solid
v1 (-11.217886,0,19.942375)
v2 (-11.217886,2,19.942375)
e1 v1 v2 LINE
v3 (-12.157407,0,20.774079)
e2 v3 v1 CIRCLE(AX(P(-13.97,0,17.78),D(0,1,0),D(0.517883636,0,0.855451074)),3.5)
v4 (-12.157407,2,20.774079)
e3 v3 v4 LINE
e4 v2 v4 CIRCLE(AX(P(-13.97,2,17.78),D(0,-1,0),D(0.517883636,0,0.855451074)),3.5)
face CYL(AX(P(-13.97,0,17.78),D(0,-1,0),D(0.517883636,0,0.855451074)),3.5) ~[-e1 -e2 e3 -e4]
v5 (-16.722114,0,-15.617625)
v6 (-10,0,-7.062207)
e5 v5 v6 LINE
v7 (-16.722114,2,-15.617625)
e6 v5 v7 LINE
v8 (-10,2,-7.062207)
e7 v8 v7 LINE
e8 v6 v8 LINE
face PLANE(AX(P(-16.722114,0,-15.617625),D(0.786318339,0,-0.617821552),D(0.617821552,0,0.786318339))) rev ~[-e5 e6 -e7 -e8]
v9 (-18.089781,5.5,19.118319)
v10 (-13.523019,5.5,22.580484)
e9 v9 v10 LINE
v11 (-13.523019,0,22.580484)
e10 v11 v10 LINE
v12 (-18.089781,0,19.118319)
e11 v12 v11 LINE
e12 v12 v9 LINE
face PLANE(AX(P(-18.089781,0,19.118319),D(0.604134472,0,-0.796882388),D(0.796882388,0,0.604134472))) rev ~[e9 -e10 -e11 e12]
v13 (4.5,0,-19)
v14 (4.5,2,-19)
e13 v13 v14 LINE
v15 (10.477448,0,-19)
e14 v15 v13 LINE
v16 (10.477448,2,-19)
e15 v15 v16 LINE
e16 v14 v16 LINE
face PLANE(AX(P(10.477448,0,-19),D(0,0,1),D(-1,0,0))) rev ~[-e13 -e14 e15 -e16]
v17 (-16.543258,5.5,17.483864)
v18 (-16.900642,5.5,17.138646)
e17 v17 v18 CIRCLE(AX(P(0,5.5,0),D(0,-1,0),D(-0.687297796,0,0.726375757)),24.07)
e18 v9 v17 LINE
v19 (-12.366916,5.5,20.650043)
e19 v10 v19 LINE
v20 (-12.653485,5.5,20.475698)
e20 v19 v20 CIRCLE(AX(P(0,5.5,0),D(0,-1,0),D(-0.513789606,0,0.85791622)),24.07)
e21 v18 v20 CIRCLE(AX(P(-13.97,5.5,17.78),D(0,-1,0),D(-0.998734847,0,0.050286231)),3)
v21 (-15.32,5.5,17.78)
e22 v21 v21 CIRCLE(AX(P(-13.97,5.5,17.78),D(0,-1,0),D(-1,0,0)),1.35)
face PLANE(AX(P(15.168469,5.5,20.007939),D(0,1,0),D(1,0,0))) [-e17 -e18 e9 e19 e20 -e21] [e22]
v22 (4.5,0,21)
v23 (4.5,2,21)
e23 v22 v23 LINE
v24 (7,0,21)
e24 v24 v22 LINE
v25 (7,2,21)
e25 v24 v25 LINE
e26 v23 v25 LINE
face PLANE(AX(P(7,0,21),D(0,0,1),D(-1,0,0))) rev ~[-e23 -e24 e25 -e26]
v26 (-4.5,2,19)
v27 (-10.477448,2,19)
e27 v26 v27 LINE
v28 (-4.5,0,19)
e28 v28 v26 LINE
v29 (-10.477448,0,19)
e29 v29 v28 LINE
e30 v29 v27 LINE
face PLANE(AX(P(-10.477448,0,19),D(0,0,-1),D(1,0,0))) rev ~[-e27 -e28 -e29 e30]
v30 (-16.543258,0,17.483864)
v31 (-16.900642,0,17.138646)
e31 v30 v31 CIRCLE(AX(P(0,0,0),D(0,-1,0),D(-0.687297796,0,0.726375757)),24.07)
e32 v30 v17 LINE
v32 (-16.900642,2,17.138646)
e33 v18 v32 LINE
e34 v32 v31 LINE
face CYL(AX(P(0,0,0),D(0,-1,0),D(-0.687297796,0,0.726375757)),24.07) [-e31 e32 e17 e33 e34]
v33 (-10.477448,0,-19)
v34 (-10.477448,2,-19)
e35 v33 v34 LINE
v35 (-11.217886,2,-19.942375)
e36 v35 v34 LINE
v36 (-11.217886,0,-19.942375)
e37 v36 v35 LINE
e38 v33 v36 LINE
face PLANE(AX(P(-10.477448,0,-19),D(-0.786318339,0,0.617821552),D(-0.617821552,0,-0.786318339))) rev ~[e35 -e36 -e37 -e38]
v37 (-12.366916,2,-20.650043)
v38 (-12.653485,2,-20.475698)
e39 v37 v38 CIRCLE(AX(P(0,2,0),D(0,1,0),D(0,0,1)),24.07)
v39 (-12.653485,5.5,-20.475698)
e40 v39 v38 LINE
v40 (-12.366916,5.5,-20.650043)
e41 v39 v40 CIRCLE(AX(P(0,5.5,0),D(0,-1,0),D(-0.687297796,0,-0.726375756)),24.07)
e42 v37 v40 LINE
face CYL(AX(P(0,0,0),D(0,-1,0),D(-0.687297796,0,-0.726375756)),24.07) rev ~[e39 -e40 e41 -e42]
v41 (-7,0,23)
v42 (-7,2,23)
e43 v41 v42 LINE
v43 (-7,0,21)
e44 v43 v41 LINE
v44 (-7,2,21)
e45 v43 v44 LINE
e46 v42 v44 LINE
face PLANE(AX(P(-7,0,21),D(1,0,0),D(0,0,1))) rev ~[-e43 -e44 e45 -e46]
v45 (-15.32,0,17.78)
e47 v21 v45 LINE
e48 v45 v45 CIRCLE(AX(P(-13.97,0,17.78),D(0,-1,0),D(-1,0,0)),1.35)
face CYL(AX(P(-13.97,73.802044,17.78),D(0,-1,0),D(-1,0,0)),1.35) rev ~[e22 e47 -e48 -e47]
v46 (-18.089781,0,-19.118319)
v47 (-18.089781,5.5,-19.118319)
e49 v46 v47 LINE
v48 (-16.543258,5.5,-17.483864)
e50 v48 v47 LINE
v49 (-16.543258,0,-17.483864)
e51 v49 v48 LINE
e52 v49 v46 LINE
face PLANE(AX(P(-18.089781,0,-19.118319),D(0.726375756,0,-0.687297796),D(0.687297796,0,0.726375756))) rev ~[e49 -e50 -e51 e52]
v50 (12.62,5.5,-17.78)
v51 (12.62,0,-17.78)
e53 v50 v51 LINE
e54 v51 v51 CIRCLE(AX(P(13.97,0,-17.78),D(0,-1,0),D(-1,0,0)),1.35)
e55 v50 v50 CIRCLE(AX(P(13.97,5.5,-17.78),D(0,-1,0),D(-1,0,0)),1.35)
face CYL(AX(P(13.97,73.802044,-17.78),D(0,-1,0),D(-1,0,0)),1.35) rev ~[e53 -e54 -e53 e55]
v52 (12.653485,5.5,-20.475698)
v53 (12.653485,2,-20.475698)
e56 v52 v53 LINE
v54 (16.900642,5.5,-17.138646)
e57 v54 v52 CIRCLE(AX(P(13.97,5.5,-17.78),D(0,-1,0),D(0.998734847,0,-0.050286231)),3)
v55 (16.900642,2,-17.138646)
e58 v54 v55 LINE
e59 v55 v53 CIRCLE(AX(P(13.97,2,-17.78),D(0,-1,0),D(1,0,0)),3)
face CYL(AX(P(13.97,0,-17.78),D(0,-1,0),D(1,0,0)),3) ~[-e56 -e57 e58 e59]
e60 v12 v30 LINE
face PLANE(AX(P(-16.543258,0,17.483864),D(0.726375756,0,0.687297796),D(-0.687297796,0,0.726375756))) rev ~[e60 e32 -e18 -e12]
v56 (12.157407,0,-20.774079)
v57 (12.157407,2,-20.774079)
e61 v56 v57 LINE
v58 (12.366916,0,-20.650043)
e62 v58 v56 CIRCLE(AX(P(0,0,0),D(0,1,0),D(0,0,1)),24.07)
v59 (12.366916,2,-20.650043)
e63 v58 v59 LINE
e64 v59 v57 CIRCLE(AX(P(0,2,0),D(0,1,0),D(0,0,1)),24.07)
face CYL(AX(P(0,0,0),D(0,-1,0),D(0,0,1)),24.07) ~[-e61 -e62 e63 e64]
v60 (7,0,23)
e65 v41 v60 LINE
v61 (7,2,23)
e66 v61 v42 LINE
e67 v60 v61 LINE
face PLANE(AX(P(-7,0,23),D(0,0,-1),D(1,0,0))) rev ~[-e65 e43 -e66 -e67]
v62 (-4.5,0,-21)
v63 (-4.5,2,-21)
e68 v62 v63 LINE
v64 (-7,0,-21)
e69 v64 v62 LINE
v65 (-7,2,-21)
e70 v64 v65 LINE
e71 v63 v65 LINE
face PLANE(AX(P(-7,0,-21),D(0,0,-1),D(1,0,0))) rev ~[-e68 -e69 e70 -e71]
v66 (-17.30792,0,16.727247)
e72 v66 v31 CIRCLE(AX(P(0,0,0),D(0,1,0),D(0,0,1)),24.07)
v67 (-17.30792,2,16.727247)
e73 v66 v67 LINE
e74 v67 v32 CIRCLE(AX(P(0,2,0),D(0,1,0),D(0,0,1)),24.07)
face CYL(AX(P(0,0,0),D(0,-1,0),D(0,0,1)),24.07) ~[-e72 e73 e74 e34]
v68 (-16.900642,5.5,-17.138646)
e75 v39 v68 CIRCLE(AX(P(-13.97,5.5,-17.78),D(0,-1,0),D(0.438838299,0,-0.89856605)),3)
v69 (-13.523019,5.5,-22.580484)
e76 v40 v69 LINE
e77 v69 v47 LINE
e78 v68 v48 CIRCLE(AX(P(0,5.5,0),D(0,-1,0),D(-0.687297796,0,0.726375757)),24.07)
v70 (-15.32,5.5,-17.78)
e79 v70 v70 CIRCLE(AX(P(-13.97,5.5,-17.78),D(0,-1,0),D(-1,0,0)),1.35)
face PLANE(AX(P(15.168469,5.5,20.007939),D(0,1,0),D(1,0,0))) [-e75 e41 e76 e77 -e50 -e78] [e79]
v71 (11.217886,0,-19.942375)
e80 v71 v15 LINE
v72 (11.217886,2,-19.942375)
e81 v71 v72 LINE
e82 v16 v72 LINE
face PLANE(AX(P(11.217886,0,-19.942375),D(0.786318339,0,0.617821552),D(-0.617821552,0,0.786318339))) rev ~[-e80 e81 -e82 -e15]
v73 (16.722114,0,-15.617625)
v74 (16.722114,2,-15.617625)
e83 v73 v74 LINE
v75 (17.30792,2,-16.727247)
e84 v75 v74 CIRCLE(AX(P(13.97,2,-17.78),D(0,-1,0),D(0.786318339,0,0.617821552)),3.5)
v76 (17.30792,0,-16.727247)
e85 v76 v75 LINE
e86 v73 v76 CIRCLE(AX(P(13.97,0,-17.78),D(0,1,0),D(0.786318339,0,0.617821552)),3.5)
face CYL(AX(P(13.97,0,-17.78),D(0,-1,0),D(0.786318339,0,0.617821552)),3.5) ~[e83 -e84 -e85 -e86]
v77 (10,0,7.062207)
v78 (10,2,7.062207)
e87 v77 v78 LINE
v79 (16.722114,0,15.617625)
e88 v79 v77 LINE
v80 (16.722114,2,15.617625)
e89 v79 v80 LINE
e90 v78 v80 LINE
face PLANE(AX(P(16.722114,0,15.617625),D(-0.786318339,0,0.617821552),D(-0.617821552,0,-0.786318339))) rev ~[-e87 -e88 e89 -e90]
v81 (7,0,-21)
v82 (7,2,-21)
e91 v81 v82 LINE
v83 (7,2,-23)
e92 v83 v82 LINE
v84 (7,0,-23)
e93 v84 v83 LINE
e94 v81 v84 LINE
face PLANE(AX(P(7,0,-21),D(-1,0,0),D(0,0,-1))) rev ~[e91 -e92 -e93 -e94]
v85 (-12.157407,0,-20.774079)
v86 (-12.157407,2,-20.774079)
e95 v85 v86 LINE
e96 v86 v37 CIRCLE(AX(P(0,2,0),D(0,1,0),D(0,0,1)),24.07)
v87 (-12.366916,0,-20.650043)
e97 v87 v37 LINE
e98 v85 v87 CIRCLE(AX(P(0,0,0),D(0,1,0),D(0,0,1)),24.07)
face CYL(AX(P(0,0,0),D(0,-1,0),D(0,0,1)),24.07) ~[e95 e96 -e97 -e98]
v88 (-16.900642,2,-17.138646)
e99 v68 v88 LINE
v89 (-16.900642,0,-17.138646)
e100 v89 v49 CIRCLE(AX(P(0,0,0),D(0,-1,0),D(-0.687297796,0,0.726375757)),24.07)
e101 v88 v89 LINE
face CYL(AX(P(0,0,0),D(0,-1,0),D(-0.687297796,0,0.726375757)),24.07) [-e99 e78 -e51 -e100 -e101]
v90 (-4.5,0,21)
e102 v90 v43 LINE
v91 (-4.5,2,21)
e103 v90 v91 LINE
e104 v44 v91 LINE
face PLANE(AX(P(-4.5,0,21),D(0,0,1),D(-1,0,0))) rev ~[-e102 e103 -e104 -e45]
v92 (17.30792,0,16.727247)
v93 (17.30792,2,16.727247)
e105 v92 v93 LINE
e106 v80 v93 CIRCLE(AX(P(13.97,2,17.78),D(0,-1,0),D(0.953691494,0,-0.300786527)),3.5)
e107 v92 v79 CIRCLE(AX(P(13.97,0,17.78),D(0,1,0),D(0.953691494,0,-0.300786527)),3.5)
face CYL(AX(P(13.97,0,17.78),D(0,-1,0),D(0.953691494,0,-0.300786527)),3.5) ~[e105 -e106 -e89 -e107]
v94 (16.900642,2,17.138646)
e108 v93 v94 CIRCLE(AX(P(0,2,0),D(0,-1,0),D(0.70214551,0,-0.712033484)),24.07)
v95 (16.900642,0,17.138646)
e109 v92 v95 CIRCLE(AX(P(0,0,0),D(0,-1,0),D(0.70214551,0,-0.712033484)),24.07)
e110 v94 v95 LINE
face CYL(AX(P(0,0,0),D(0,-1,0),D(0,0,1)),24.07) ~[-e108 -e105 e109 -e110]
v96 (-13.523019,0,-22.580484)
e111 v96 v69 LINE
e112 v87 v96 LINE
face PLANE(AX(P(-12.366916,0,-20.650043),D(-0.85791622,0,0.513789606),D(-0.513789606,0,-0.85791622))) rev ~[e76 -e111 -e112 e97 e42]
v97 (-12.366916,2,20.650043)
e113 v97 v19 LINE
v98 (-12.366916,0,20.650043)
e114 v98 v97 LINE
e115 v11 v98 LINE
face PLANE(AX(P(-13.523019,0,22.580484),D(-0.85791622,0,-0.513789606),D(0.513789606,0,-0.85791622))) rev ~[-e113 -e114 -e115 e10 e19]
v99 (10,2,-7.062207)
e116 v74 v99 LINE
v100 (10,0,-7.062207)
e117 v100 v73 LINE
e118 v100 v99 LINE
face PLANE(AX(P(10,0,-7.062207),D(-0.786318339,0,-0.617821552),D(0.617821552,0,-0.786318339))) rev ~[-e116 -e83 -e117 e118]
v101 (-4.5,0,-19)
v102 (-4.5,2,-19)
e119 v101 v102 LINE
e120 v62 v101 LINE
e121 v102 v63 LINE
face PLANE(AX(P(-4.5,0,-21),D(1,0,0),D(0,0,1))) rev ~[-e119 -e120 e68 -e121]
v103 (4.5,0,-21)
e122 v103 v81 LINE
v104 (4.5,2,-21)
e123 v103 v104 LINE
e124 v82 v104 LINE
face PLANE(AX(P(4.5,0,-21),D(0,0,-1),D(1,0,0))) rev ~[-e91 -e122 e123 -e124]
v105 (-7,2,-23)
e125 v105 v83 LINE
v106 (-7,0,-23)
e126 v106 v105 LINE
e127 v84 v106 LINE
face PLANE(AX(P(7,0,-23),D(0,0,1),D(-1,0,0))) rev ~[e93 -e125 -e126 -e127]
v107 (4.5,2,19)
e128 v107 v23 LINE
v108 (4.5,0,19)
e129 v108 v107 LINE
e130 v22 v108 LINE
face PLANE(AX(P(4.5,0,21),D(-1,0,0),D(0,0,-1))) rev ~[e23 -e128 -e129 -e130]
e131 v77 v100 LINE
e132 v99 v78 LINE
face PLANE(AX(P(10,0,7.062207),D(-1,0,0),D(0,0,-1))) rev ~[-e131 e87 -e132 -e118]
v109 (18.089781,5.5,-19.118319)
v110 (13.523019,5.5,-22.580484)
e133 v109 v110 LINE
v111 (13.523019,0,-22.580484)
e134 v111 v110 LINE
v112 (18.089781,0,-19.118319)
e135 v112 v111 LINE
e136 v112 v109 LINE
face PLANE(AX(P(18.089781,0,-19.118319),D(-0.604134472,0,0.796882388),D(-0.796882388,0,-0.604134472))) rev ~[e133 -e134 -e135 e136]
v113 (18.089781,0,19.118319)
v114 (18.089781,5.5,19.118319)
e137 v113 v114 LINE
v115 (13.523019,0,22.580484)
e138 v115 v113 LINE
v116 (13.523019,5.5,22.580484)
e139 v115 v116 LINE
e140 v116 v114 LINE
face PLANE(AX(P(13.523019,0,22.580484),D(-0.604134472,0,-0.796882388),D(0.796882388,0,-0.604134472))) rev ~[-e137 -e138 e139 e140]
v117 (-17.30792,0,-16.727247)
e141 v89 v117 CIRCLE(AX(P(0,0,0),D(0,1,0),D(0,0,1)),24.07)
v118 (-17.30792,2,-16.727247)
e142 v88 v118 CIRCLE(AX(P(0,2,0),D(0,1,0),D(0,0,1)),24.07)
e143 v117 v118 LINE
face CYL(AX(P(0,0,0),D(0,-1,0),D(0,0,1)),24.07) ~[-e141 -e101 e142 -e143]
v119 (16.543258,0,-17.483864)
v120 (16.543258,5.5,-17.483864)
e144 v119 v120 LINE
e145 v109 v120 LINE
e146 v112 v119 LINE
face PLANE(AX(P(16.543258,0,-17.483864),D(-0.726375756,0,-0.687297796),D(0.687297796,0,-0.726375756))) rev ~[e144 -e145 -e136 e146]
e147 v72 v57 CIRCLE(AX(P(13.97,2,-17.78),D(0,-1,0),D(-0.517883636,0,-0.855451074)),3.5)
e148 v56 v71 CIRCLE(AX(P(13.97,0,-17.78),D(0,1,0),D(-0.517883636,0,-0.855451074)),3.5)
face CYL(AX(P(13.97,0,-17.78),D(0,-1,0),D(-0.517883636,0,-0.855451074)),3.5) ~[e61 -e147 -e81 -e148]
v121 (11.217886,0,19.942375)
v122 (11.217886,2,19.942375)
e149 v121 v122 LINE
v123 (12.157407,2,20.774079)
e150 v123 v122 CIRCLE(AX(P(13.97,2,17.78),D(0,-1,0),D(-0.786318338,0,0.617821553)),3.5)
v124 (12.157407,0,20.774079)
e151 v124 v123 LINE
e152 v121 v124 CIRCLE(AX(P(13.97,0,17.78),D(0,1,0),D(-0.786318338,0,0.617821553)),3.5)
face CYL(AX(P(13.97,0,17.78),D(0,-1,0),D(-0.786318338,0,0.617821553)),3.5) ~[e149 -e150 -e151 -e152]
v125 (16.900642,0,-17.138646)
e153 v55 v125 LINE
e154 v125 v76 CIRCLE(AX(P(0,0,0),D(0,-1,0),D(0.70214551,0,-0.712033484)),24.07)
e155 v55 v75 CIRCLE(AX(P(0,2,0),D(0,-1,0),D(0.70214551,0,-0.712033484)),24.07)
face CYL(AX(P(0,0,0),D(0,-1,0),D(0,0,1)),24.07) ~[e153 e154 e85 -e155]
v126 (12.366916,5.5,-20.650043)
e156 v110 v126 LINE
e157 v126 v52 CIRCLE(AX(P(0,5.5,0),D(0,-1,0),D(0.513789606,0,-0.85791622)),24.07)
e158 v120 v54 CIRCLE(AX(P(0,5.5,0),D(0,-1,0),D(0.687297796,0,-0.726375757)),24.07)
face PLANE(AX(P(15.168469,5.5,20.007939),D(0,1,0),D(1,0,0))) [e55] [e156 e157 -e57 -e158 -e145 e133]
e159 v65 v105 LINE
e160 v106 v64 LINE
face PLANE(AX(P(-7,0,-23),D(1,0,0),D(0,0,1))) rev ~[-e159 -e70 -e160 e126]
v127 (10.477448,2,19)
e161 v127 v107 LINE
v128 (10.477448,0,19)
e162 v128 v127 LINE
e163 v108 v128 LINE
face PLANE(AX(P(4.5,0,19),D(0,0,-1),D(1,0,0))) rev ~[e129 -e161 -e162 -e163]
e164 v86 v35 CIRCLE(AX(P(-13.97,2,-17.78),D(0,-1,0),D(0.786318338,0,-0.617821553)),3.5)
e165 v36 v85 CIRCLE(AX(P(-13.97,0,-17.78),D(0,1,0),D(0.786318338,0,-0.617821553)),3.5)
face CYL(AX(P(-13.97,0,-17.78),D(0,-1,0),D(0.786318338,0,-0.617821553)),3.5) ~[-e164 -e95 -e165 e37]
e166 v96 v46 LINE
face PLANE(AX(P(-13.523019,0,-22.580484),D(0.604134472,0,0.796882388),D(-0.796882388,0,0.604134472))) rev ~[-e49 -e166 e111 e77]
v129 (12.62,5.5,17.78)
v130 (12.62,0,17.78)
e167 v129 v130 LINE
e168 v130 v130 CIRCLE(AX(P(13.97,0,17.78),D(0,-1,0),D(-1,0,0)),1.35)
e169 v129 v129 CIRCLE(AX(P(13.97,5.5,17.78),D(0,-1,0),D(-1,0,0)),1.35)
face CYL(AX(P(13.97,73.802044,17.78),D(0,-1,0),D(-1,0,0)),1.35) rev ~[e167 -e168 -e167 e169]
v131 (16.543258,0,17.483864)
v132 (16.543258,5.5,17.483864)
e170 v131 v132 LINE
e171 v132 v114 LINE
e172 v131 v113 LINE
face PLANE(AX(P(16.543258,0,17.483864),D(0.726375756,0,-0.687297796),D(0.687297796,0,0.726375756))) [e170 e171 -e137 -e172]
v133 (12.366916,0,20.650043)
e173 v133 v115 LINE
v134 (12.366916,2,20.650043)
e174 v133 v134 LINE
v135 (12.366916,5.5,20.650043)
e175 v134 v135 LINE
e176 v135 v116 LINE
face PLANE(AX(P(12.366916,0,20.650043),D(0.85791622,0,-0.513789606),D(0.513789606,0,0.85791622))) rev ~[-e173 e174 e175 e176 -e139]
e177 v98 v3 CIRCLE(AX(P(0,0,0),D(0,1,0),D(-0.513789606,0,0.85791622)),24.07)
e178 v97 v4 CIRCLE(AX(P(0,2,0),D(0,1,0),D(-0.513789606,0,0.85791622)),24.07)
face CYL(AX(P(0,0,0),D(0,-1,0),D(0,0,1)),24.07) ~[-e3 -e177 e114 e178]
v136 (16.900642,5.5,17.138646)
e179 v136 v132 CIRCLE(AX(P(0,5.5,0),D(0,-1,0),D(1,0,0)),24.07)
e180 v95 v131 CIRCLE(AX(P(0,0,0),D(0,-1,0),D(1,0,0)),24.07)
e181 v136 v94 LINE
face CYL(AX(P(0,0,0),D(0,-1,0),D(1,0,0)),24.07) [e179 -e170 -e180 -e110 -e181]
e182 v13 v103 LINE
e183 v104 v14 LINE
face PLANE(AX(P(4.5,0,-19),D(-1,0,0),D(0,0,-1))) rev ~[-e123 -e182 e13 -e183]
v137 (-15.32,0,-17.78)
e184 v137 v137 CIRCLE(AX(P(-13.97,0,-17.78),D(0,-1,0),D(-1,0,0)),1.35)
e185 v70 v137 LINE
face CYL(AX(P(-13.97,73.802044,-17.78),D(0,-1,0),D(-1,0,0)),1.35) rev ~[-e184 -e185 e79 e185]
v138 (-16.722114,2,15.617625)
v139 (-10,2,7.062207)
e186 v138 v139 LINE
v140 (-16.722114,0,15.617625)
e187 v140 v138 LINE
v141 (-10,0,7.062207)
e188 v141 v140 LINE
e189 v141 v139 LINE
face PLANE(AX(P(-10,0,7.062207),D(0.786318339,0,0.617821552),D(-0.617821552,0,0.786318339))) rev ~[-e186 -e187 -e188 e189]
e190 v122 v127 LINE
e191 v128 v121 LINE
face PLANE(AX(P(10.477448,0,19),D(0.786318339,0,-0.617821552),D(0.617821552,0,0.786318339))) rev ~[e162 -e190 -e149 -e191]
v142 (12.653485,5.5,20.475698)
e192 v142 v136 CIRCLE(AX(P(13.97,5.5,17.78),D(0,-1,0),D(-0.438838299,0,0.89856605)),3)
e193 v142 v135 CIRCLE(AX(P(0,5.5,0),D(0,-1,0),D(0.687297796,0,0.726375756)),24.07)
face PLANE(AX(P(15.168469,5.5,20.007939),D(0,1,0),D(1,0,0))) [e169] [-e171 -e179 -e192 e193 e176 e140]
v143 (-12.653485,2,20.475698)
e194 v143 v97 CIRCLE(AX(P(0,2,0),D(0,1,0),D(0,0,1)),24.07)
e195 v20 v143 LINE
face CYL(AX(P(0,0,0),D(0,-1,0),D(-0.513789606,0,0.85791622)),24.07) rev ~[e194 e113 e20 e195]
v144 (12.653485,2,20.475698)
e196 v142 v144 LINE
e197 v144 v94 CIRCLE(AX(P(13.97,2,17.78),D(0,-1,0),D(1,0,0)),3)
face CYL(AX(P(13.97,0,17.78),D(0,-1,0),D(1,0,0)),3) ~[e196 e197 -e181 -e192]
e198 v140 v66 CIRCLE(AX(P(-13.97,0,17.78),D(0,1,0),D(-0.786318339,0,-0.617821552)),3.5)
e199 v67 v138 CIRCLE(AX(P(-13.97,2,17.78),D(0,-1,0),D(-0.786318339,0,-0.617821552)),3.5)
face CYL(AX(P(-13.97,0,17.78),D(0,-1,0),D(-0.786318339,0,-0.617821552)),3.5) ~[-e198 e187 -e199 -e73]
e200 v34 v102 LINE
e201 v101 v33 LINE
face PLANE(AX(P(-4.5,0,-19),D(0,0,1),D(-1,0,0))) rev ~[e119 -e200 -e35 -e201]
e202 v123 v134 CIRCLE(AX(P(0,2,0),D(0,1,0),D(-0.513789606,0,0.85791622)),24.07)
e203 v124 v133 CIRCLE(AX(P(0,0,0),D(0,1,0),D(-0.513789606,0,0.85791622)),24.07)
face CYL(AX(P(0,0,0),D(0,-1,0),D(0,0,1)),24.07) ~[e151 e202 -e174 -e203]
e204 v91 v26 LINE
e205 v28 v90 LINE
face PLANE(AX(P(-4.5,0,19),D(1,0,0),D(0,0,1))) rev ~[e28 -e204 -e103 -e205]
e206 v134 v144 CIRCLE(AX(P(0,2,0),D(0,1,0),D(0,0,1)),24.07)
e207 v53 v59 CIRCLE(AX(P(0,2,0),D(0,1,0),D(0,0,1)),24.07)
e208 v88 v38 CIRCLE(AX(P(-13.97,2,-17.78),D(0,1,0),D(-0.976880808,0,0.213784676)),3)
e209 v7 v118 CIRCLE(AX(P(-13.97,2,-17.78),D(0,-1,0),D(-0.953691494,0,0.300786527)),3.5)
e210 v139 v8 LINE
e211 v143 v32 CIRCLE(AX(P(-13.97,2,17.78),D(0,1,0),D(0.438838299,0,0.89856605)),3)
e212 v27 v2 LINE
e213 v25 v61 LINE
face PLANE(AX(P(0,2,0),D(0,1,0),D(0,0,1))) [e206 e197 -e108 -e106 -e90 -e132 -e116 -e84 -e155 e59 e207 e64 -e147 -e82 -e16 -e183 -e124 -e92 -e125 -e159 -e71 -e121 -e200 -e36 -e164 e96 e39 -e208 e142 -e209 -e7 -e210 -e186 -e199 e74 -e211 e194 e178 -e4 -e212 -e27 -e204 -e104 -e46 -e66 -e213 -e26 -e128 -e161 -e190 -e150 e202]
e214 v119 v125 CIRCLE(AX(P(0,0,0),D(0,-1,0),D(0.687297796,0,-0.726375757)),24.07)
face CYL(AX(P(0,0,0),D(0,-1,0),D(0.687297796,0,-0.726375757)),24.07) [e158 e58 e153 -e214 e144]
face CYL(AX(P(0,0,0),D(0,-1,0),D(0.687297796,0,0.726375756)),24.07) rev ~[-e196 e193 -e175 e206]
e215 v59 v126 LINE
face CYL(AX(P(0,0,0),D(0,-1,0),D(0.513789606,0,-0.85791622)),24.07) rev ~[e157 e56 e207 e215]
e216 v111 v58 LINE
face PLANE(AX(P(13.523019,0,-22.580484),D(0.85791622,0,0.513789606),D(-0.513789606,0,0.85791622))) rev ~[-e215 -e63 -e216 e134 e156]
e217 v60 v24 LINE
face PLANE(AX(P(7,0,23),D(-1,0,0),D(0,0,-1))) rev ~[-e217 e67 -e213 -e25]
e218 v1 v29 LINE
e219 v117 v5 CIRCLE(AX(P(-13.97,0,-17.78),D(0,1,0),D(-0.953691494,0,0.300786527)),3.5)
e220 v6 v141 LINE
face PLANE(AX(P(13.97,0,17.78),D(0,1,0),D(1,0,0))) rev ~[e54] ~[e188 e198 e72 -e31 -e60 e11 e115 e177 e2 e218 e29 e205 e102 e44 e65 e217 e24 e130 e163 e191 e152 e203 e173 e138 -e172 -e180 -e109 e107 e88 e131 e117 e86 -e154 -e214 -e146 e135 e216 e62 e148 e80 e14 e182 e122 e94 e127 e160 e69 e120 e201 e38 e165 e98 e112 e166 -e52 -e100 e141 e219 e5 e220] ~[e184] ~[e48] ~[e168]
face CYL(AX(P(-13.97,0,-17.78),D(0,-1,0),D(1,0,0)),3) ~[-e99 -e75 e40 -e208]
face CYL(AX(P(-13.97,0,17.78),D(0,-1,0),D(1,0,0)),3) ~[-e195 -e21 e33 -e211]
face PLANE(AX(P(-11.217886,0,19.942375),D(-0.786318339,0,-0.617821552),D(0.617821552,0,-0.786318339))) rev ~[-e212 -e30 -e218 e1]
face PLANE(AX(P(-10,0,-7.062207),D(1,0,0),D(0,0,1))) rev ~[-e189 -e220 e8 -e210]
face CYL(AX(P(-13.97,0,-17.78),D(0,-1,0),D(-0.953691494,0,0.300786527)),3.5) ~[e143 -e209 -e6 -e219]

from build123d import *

# Parameters (mm, degrees)
SKETCH1_R               = 24.07
BOSS_EXTRUDE1_DEPTH     = 2
BOSS_EXTRUDE2_DEPTH     = 5.5
BOSS_EXTRUDE5_REACH     = 36.482
SKETCH2_R               = 3
SKETCH1_5_R             = 34.31362745
CUT_EXTRUDE3_DEPTH      = 35.48158639
CUT_EXTRUDE3_DEPTH_BACK = 35.48158639
M2_5_CLEARANCE_HOLE1_D  = 2.7
CUT_EXTRUDE4_DEPTH      = 35.48158639


with BuildPart() as part:
    # Sketch1 → Boss-Extrude1 (new body)
    with BuildSketch(Plane(origin=(0, 0, 0), x_dir=(1, 0, 0), z_dir=(0, 1, 0))):
        with Locations(Location((0, 0, 0), (0, 0, 270))):
            Circle(SKETCH1_R)
    extrude(amount=BOSS_EXTRUDE1_DEPTH)

    # Sketch1<3> → Boss-Extrude2 (add)
    with BuildSketch(Plane(origin=(0, 0, 0), x_dir=(1, 0, 0), z_dir=(0, 1, 0))):
        with BuildLine():
            ThreePointArc((12.366915807, 20.650043424), (14.541516735, 19.180959075), (16.543257949, 17.483864459))
            Line((16.543257949, 17.483864459), (18.089781085, 19.118318867))
            Line((18.089781085, 19.118318867), (13.523019488, 22.580483607))
            Line((13.523019488, 22.580483607), (12.366915807, 20.650043424))
        make_face()
        with BuildLine():
            ThreePointArc((16.543257949, -17.483864459), (14.541516735, -19.180959075), (12.366915807, -20.650043424))
            Line((12.366915807, -20.650043424), (13.523019488, -22.580483607))
            Line((13.523019488, -22.580483607), (18.089781085, -19.118318867))
            Line((18.089781085, -19.118318867), (16.543257949, -17.483864459))
        make_face()
        with BuildLine():
            ThreePointArc((-16.543257949, 17.483864459), (-14.541516735, 19.180959075), (-12.366915807, 20.650043424))
            Line((-12.366915807, 20.650043424), (-13.523019488, 22.580483607))
            Line((-13.523019488, 22.580483607), (-18.089781085, 19.118318867))
            Line((-18.089781085, 19.118318867), (-16.543257949, 17.483864459))
        make_face()
        with BuildLine():
            ThreePointArc((-12.366915807, -20.650043424), (-14.541516735, -19.180959075), (-16.543257949, -17.483864459))
            Line((-16.543257949, -17.483864459), (-18.089781085, -19.118318867))
            Line((-18.089781085, -19.118318867), (-13.523019488, -22.580483607))
            Line((-13.523019488, -22.580483607), (-12.366915807, -20.650043424))
        make_face()
    extrude(amount=BOSS_EXTRUDE2_DEPTH)

    # Boss-Extrude5: up to this face of the body (flat: up to its plane)
    boss_extrude5_end = Plane(part.part.faces().sort_by_distance((15.168468653, 5.5, 20.00793877))[0])
    # Sketch2 → Boss-Extrude5 (add, up to the picked face)
    with BuildSketch(Plane(origin=(0, 0, 0), x_dir=(1, 0, 0), z_dir=(0, 1, 0)), mode=Mode.PRIVATE) as boss_extrude5_sk1:
        with Locations((13.97, 17.78)):
            Circle(SKETCH2_R)
    boss_extrude5_tool1 = split(extrude(boss_extrude5_sk1.sketch, amount=BOSS_EXTRUDE5_REACH, mode=Mode.PRIVATE), bisect_by=boss_extrude5_end, keep=Keep.BOTH, mode=Mode.PRIVATE)
    # Sketch2 → Boss-Extrude5 (add, up to the picked face)
    with BuildSketch(Plane(origin=(0, 0, 0), x_dir=(1, 0, 0), z_dir=(0, 1, 0)), mode=Mode.PRIVATE) as boss_extrude5_sk2:
        with Locations((13.97, -17.78)):
            Circle(SKETCH2_R)
    boss_extrude5_tool2 = split(extrude(boss_extrude5_sk2.sketch, amount=BOSS_EXTRUDE5_REACH, mode=Mode.PRIVATE), bisect_by=boss_extrude5_end, keep=Keep.BOTH, mode=Mode.PRIVATE)
    # Sketch2 → Boss-Extrude5 (add, up to the picked face)
    with BuildSketch(Plane(origin=(0, 0, 0), x_dir=(1, 0, 0), z_dir=(0, 1, 0)), mode=Mode.PRIVATE) as boss_extrude5_sk3:
        with Locations((-13.97, -17.78)):
            Circle(SKETCH2_R)
    boss_extrude5_tool3 = split(extrude(boss_extrude5_sk3.sketch, amount=BOSS_EXTRUDE5_REACH, mode=Mode.PRIVATE), bisect_by=boss_extrude5_end, keep=Keep.BOTH, mode=Mode.PRIVATE)
    # Sketch2 → Boss-Extrude5 (add, up to the picked face)
    with BuildSketch(Plane(origin=(0, 0, 0), x_dir=(1, 0, 0), z_dir=(0, 1, 0)), mode=Mode.PRIVATE) as boss_extrude5_sk4:
        with Locations((-13.97, 17.78)):
            Circle(SKETCH2_R)
    boss_extrude5_tool4 = split(extrude(boss_extrude5_sk4.sketch, amount=BOSS_EXTRUDE5_REACH, mode=Mode.PRIVATE), bisect_by=boss_extrude5_end, keep=Keep.BOTH, mode=Mode.PRIVATE)
    add(boss_extrude5_tool1.solids().sort_by(Axis((13.97, 0, -17.78), (0, 1, 0)))[0])
    add(boss_extrude5_tool2.solids().sort_by(Axis((13.97, 0, 17.78), (0, 1, 0)))[0])
    add(boss_extrude5_tool3.solids().sort_by(Axis((-13.97, 0, 17.78), (0, 1, 0)))[0])
    add(boss_extrude5_tool4.solids().sort_by(Axis((-13.97, 0, -17.78), (0, 1, 0)))[0])

    # Sketch1<5> → Cut-Extrude3 (cut, two sides)
    with BuildSketch(Plane(origin=(0, 0, 0), x_dir=(1, 0, 0), z_dir=(0, 1, 0))) as cut_extrude3_sk:
        Circle(SKETCH1_5_R)
        with BuildLine():
            Line((18.089781085, 19.118318867), (16.543257949, 17.483864459))
            ThreePointArc((16.543257949, 17.483864459), (22.108382108, 9.517580605), (24.07, 0))
            ThreePointArc((24.07, 0), (22.108382108, -9.517580605), (16.543257949, -17.483864459))
            Line((16.543257949, -17.483864459), (18.089781085, -19.118318867))
            Line((18.089781085, -19.118318867), (13.523019488, -22.580483607))
            Line((13.523019488, -22.580483607), (12.366915807, -20.650043424))
            ThreePointArc((12.366915807, -20.650043424), (0, -24.07), (-12.366915807, -20.650043424))
            Line((-12.366915807, -20.650043424), (-13.523019488, -22.580483607))
            Line((-13.523019488, -22.580483607), (-18.089781085, -19.118318867))
            Line((-18.089781085, -19.118318867), (-16.543257949, -17.483864459))
            ThreePointArc((-16.543257949, -17.483864459), (-24.07, 0), (-16.543257949, 17.483864459))
            Line((-16.543257949, 17.483864459), (-18.089781085, 19.118318867))
            Line((-18.089781085, 19.118318867), (-13.523019488, 22.580483607))
            Line((-13.523019488, 22.580483607), (-12.366915807, 20.650043424))
            ThreePointArc((-12.366915807, 20.650043424), (0, 24.07), (12.366915807, 20.650043424))
            Line((12.366915807, 20.650043424), (13.523019488, 22.580483607))
            Line((13.523019488, 22.580483607), (18.089781085, 19.118318867))
        make_face(mode=Mode.SUBTRACT)
    extrude(amount=CUT_EXTRUDE3_DEPTH, mode=Mode.SUBTRACT)
    extrude(cut_extrude3_sk.sketch, amount=-CUT_EXTRUDE3_DEPTH_BACK, mode=Mode.SUBTRACT)

    # M2.5 Clearance Hole1 (through all)
    with Locations(Plane(origin=(0, 5.5, 0), x_dir=(1, 0, 0), z_dir=(0, 1, 0))):
        with Locations((-13.97, 17.78), (13.97, 17.78), (13.97, -17.78), (-13.97, -17.78)):
            Hole(M2_5_CLEARANCE_HOLE1_D / 2)

    # Sketch8 → Cut-Extrude4 (cut, through all)
    with BuildSketch(Plane.XZ):
        with BuildLine():
            ThreePointArc((-12.157407277, 20.77407876), (-11.650071144, 20.400673597), (-11.217885814, 19.942375432))
            Line((-11.217885814, 19.942375432), (-10.477447975, 19))
            Line((-10.477447975, 19), (-4.5, 19))
            Line((-4.5, 19), (-4.5, 21))
            Line((-4.5, 21), (-7, 21))
            Line((-7, 21), (-7, 23))
            Line((-7, 23), (7, 23))
            Line((7, 23), (7, 21))
            Line((7, 21), (4.5, 21))
            Line((4.5, 21), (4.5, 19))
            Line((4.5, 19), (10.477447975, 19))
            Line((10.477447975, 19), (11.217885814, 19.942375432))
            ThreePointArc((11.217885814, 19.942375432), (11.650071144, 20.400673597), (12.157407277, 20.77407876))
            ThreePointArc((12.157407277, 20.77407876), (0, 24.07), (-12.157407277, 20.77407876))
        make_face()
        with BuildLine():
            Line((10, 7.062206513), (10, -7.062206513))
            Line((10, -7.062206513), (16.722114186, -15.617624568))
            ThreePointArc((16.722114186, -15.617624568), (17.065148682, -16.145969817), (17.307920228, -16.727247155))
            ThreePointArc((17.307920228, -16.727247155), (24.07, 0), (17.307920228, 16.727247155))
            ThreePointArc((17.307920228, 16.727247155), (17.065148682, 16.145969817), (16.722114186, 15.617624568))
            Line((16.722114186, 15.617624568), (10, 7.062206513))
        make_face()
        with BuildLine():
            Line((-10, -7.062206513), (-10, 7.062206513))
            Line((-10, 7.062206513), (-16.722114186, 15.617624568))
            ThreePointArc((-16.722114186, 15.617624568), (-17.065148682, 16.145969817), (-17.307920228, 16.727247155))
            ThreePointArc((-17.307920228, 16.727247155), (-24.07, 0), (-17.307920228, -16.727247155))
            ThreePointArc((-17.307920228, -16.727247155), (-17.065148682, -16.145969817), (-16.722114186, -15.617624568))
            Line((-16.722114186, -15.617624568), (-10, -7.062206513))
        make_face()
        with BuildLine():
            Line((11.217885814, -19.942375432), (10.477447975, -19))
            Line((10.477447975, -19), (4.5, -19))
            Line((4.5, -19), (4.5, -21))
            Line((4.5, -21), (7, -21))
            Line((7, -21), (7, -23))
            Line((7, -23), (-7, -23))
            Line((-7, -23), (-7, -21))
            Line((-7, -21), (-4.5, -21))
            Line((-4.5, -21), (-4.5, -19))
            Line((-4.5, -19), (-10.477447975, -19))
            Line((-10.477447975, -19), (-11.217885814, -19.942375432))
            ThreePointArc((-11.217885814, -19.942375432), (-11.650071144, -20.400673597), (-12.157407277, -20.77407876))
            ThreePointArc((-12.157407277, -20.77407876), (0, -24.07), (12.157407277, -20.77407876))
            ThreePointArc((12.157407277, -20.77407876), (11.650071144, -20.400673597), (11.217885814, -19.942375432))
        make_face()
    extrude(amount=-CUT_EXTRUDE4_DEPTH, mode=Mode.SUBTRACT)


solid = part.part
